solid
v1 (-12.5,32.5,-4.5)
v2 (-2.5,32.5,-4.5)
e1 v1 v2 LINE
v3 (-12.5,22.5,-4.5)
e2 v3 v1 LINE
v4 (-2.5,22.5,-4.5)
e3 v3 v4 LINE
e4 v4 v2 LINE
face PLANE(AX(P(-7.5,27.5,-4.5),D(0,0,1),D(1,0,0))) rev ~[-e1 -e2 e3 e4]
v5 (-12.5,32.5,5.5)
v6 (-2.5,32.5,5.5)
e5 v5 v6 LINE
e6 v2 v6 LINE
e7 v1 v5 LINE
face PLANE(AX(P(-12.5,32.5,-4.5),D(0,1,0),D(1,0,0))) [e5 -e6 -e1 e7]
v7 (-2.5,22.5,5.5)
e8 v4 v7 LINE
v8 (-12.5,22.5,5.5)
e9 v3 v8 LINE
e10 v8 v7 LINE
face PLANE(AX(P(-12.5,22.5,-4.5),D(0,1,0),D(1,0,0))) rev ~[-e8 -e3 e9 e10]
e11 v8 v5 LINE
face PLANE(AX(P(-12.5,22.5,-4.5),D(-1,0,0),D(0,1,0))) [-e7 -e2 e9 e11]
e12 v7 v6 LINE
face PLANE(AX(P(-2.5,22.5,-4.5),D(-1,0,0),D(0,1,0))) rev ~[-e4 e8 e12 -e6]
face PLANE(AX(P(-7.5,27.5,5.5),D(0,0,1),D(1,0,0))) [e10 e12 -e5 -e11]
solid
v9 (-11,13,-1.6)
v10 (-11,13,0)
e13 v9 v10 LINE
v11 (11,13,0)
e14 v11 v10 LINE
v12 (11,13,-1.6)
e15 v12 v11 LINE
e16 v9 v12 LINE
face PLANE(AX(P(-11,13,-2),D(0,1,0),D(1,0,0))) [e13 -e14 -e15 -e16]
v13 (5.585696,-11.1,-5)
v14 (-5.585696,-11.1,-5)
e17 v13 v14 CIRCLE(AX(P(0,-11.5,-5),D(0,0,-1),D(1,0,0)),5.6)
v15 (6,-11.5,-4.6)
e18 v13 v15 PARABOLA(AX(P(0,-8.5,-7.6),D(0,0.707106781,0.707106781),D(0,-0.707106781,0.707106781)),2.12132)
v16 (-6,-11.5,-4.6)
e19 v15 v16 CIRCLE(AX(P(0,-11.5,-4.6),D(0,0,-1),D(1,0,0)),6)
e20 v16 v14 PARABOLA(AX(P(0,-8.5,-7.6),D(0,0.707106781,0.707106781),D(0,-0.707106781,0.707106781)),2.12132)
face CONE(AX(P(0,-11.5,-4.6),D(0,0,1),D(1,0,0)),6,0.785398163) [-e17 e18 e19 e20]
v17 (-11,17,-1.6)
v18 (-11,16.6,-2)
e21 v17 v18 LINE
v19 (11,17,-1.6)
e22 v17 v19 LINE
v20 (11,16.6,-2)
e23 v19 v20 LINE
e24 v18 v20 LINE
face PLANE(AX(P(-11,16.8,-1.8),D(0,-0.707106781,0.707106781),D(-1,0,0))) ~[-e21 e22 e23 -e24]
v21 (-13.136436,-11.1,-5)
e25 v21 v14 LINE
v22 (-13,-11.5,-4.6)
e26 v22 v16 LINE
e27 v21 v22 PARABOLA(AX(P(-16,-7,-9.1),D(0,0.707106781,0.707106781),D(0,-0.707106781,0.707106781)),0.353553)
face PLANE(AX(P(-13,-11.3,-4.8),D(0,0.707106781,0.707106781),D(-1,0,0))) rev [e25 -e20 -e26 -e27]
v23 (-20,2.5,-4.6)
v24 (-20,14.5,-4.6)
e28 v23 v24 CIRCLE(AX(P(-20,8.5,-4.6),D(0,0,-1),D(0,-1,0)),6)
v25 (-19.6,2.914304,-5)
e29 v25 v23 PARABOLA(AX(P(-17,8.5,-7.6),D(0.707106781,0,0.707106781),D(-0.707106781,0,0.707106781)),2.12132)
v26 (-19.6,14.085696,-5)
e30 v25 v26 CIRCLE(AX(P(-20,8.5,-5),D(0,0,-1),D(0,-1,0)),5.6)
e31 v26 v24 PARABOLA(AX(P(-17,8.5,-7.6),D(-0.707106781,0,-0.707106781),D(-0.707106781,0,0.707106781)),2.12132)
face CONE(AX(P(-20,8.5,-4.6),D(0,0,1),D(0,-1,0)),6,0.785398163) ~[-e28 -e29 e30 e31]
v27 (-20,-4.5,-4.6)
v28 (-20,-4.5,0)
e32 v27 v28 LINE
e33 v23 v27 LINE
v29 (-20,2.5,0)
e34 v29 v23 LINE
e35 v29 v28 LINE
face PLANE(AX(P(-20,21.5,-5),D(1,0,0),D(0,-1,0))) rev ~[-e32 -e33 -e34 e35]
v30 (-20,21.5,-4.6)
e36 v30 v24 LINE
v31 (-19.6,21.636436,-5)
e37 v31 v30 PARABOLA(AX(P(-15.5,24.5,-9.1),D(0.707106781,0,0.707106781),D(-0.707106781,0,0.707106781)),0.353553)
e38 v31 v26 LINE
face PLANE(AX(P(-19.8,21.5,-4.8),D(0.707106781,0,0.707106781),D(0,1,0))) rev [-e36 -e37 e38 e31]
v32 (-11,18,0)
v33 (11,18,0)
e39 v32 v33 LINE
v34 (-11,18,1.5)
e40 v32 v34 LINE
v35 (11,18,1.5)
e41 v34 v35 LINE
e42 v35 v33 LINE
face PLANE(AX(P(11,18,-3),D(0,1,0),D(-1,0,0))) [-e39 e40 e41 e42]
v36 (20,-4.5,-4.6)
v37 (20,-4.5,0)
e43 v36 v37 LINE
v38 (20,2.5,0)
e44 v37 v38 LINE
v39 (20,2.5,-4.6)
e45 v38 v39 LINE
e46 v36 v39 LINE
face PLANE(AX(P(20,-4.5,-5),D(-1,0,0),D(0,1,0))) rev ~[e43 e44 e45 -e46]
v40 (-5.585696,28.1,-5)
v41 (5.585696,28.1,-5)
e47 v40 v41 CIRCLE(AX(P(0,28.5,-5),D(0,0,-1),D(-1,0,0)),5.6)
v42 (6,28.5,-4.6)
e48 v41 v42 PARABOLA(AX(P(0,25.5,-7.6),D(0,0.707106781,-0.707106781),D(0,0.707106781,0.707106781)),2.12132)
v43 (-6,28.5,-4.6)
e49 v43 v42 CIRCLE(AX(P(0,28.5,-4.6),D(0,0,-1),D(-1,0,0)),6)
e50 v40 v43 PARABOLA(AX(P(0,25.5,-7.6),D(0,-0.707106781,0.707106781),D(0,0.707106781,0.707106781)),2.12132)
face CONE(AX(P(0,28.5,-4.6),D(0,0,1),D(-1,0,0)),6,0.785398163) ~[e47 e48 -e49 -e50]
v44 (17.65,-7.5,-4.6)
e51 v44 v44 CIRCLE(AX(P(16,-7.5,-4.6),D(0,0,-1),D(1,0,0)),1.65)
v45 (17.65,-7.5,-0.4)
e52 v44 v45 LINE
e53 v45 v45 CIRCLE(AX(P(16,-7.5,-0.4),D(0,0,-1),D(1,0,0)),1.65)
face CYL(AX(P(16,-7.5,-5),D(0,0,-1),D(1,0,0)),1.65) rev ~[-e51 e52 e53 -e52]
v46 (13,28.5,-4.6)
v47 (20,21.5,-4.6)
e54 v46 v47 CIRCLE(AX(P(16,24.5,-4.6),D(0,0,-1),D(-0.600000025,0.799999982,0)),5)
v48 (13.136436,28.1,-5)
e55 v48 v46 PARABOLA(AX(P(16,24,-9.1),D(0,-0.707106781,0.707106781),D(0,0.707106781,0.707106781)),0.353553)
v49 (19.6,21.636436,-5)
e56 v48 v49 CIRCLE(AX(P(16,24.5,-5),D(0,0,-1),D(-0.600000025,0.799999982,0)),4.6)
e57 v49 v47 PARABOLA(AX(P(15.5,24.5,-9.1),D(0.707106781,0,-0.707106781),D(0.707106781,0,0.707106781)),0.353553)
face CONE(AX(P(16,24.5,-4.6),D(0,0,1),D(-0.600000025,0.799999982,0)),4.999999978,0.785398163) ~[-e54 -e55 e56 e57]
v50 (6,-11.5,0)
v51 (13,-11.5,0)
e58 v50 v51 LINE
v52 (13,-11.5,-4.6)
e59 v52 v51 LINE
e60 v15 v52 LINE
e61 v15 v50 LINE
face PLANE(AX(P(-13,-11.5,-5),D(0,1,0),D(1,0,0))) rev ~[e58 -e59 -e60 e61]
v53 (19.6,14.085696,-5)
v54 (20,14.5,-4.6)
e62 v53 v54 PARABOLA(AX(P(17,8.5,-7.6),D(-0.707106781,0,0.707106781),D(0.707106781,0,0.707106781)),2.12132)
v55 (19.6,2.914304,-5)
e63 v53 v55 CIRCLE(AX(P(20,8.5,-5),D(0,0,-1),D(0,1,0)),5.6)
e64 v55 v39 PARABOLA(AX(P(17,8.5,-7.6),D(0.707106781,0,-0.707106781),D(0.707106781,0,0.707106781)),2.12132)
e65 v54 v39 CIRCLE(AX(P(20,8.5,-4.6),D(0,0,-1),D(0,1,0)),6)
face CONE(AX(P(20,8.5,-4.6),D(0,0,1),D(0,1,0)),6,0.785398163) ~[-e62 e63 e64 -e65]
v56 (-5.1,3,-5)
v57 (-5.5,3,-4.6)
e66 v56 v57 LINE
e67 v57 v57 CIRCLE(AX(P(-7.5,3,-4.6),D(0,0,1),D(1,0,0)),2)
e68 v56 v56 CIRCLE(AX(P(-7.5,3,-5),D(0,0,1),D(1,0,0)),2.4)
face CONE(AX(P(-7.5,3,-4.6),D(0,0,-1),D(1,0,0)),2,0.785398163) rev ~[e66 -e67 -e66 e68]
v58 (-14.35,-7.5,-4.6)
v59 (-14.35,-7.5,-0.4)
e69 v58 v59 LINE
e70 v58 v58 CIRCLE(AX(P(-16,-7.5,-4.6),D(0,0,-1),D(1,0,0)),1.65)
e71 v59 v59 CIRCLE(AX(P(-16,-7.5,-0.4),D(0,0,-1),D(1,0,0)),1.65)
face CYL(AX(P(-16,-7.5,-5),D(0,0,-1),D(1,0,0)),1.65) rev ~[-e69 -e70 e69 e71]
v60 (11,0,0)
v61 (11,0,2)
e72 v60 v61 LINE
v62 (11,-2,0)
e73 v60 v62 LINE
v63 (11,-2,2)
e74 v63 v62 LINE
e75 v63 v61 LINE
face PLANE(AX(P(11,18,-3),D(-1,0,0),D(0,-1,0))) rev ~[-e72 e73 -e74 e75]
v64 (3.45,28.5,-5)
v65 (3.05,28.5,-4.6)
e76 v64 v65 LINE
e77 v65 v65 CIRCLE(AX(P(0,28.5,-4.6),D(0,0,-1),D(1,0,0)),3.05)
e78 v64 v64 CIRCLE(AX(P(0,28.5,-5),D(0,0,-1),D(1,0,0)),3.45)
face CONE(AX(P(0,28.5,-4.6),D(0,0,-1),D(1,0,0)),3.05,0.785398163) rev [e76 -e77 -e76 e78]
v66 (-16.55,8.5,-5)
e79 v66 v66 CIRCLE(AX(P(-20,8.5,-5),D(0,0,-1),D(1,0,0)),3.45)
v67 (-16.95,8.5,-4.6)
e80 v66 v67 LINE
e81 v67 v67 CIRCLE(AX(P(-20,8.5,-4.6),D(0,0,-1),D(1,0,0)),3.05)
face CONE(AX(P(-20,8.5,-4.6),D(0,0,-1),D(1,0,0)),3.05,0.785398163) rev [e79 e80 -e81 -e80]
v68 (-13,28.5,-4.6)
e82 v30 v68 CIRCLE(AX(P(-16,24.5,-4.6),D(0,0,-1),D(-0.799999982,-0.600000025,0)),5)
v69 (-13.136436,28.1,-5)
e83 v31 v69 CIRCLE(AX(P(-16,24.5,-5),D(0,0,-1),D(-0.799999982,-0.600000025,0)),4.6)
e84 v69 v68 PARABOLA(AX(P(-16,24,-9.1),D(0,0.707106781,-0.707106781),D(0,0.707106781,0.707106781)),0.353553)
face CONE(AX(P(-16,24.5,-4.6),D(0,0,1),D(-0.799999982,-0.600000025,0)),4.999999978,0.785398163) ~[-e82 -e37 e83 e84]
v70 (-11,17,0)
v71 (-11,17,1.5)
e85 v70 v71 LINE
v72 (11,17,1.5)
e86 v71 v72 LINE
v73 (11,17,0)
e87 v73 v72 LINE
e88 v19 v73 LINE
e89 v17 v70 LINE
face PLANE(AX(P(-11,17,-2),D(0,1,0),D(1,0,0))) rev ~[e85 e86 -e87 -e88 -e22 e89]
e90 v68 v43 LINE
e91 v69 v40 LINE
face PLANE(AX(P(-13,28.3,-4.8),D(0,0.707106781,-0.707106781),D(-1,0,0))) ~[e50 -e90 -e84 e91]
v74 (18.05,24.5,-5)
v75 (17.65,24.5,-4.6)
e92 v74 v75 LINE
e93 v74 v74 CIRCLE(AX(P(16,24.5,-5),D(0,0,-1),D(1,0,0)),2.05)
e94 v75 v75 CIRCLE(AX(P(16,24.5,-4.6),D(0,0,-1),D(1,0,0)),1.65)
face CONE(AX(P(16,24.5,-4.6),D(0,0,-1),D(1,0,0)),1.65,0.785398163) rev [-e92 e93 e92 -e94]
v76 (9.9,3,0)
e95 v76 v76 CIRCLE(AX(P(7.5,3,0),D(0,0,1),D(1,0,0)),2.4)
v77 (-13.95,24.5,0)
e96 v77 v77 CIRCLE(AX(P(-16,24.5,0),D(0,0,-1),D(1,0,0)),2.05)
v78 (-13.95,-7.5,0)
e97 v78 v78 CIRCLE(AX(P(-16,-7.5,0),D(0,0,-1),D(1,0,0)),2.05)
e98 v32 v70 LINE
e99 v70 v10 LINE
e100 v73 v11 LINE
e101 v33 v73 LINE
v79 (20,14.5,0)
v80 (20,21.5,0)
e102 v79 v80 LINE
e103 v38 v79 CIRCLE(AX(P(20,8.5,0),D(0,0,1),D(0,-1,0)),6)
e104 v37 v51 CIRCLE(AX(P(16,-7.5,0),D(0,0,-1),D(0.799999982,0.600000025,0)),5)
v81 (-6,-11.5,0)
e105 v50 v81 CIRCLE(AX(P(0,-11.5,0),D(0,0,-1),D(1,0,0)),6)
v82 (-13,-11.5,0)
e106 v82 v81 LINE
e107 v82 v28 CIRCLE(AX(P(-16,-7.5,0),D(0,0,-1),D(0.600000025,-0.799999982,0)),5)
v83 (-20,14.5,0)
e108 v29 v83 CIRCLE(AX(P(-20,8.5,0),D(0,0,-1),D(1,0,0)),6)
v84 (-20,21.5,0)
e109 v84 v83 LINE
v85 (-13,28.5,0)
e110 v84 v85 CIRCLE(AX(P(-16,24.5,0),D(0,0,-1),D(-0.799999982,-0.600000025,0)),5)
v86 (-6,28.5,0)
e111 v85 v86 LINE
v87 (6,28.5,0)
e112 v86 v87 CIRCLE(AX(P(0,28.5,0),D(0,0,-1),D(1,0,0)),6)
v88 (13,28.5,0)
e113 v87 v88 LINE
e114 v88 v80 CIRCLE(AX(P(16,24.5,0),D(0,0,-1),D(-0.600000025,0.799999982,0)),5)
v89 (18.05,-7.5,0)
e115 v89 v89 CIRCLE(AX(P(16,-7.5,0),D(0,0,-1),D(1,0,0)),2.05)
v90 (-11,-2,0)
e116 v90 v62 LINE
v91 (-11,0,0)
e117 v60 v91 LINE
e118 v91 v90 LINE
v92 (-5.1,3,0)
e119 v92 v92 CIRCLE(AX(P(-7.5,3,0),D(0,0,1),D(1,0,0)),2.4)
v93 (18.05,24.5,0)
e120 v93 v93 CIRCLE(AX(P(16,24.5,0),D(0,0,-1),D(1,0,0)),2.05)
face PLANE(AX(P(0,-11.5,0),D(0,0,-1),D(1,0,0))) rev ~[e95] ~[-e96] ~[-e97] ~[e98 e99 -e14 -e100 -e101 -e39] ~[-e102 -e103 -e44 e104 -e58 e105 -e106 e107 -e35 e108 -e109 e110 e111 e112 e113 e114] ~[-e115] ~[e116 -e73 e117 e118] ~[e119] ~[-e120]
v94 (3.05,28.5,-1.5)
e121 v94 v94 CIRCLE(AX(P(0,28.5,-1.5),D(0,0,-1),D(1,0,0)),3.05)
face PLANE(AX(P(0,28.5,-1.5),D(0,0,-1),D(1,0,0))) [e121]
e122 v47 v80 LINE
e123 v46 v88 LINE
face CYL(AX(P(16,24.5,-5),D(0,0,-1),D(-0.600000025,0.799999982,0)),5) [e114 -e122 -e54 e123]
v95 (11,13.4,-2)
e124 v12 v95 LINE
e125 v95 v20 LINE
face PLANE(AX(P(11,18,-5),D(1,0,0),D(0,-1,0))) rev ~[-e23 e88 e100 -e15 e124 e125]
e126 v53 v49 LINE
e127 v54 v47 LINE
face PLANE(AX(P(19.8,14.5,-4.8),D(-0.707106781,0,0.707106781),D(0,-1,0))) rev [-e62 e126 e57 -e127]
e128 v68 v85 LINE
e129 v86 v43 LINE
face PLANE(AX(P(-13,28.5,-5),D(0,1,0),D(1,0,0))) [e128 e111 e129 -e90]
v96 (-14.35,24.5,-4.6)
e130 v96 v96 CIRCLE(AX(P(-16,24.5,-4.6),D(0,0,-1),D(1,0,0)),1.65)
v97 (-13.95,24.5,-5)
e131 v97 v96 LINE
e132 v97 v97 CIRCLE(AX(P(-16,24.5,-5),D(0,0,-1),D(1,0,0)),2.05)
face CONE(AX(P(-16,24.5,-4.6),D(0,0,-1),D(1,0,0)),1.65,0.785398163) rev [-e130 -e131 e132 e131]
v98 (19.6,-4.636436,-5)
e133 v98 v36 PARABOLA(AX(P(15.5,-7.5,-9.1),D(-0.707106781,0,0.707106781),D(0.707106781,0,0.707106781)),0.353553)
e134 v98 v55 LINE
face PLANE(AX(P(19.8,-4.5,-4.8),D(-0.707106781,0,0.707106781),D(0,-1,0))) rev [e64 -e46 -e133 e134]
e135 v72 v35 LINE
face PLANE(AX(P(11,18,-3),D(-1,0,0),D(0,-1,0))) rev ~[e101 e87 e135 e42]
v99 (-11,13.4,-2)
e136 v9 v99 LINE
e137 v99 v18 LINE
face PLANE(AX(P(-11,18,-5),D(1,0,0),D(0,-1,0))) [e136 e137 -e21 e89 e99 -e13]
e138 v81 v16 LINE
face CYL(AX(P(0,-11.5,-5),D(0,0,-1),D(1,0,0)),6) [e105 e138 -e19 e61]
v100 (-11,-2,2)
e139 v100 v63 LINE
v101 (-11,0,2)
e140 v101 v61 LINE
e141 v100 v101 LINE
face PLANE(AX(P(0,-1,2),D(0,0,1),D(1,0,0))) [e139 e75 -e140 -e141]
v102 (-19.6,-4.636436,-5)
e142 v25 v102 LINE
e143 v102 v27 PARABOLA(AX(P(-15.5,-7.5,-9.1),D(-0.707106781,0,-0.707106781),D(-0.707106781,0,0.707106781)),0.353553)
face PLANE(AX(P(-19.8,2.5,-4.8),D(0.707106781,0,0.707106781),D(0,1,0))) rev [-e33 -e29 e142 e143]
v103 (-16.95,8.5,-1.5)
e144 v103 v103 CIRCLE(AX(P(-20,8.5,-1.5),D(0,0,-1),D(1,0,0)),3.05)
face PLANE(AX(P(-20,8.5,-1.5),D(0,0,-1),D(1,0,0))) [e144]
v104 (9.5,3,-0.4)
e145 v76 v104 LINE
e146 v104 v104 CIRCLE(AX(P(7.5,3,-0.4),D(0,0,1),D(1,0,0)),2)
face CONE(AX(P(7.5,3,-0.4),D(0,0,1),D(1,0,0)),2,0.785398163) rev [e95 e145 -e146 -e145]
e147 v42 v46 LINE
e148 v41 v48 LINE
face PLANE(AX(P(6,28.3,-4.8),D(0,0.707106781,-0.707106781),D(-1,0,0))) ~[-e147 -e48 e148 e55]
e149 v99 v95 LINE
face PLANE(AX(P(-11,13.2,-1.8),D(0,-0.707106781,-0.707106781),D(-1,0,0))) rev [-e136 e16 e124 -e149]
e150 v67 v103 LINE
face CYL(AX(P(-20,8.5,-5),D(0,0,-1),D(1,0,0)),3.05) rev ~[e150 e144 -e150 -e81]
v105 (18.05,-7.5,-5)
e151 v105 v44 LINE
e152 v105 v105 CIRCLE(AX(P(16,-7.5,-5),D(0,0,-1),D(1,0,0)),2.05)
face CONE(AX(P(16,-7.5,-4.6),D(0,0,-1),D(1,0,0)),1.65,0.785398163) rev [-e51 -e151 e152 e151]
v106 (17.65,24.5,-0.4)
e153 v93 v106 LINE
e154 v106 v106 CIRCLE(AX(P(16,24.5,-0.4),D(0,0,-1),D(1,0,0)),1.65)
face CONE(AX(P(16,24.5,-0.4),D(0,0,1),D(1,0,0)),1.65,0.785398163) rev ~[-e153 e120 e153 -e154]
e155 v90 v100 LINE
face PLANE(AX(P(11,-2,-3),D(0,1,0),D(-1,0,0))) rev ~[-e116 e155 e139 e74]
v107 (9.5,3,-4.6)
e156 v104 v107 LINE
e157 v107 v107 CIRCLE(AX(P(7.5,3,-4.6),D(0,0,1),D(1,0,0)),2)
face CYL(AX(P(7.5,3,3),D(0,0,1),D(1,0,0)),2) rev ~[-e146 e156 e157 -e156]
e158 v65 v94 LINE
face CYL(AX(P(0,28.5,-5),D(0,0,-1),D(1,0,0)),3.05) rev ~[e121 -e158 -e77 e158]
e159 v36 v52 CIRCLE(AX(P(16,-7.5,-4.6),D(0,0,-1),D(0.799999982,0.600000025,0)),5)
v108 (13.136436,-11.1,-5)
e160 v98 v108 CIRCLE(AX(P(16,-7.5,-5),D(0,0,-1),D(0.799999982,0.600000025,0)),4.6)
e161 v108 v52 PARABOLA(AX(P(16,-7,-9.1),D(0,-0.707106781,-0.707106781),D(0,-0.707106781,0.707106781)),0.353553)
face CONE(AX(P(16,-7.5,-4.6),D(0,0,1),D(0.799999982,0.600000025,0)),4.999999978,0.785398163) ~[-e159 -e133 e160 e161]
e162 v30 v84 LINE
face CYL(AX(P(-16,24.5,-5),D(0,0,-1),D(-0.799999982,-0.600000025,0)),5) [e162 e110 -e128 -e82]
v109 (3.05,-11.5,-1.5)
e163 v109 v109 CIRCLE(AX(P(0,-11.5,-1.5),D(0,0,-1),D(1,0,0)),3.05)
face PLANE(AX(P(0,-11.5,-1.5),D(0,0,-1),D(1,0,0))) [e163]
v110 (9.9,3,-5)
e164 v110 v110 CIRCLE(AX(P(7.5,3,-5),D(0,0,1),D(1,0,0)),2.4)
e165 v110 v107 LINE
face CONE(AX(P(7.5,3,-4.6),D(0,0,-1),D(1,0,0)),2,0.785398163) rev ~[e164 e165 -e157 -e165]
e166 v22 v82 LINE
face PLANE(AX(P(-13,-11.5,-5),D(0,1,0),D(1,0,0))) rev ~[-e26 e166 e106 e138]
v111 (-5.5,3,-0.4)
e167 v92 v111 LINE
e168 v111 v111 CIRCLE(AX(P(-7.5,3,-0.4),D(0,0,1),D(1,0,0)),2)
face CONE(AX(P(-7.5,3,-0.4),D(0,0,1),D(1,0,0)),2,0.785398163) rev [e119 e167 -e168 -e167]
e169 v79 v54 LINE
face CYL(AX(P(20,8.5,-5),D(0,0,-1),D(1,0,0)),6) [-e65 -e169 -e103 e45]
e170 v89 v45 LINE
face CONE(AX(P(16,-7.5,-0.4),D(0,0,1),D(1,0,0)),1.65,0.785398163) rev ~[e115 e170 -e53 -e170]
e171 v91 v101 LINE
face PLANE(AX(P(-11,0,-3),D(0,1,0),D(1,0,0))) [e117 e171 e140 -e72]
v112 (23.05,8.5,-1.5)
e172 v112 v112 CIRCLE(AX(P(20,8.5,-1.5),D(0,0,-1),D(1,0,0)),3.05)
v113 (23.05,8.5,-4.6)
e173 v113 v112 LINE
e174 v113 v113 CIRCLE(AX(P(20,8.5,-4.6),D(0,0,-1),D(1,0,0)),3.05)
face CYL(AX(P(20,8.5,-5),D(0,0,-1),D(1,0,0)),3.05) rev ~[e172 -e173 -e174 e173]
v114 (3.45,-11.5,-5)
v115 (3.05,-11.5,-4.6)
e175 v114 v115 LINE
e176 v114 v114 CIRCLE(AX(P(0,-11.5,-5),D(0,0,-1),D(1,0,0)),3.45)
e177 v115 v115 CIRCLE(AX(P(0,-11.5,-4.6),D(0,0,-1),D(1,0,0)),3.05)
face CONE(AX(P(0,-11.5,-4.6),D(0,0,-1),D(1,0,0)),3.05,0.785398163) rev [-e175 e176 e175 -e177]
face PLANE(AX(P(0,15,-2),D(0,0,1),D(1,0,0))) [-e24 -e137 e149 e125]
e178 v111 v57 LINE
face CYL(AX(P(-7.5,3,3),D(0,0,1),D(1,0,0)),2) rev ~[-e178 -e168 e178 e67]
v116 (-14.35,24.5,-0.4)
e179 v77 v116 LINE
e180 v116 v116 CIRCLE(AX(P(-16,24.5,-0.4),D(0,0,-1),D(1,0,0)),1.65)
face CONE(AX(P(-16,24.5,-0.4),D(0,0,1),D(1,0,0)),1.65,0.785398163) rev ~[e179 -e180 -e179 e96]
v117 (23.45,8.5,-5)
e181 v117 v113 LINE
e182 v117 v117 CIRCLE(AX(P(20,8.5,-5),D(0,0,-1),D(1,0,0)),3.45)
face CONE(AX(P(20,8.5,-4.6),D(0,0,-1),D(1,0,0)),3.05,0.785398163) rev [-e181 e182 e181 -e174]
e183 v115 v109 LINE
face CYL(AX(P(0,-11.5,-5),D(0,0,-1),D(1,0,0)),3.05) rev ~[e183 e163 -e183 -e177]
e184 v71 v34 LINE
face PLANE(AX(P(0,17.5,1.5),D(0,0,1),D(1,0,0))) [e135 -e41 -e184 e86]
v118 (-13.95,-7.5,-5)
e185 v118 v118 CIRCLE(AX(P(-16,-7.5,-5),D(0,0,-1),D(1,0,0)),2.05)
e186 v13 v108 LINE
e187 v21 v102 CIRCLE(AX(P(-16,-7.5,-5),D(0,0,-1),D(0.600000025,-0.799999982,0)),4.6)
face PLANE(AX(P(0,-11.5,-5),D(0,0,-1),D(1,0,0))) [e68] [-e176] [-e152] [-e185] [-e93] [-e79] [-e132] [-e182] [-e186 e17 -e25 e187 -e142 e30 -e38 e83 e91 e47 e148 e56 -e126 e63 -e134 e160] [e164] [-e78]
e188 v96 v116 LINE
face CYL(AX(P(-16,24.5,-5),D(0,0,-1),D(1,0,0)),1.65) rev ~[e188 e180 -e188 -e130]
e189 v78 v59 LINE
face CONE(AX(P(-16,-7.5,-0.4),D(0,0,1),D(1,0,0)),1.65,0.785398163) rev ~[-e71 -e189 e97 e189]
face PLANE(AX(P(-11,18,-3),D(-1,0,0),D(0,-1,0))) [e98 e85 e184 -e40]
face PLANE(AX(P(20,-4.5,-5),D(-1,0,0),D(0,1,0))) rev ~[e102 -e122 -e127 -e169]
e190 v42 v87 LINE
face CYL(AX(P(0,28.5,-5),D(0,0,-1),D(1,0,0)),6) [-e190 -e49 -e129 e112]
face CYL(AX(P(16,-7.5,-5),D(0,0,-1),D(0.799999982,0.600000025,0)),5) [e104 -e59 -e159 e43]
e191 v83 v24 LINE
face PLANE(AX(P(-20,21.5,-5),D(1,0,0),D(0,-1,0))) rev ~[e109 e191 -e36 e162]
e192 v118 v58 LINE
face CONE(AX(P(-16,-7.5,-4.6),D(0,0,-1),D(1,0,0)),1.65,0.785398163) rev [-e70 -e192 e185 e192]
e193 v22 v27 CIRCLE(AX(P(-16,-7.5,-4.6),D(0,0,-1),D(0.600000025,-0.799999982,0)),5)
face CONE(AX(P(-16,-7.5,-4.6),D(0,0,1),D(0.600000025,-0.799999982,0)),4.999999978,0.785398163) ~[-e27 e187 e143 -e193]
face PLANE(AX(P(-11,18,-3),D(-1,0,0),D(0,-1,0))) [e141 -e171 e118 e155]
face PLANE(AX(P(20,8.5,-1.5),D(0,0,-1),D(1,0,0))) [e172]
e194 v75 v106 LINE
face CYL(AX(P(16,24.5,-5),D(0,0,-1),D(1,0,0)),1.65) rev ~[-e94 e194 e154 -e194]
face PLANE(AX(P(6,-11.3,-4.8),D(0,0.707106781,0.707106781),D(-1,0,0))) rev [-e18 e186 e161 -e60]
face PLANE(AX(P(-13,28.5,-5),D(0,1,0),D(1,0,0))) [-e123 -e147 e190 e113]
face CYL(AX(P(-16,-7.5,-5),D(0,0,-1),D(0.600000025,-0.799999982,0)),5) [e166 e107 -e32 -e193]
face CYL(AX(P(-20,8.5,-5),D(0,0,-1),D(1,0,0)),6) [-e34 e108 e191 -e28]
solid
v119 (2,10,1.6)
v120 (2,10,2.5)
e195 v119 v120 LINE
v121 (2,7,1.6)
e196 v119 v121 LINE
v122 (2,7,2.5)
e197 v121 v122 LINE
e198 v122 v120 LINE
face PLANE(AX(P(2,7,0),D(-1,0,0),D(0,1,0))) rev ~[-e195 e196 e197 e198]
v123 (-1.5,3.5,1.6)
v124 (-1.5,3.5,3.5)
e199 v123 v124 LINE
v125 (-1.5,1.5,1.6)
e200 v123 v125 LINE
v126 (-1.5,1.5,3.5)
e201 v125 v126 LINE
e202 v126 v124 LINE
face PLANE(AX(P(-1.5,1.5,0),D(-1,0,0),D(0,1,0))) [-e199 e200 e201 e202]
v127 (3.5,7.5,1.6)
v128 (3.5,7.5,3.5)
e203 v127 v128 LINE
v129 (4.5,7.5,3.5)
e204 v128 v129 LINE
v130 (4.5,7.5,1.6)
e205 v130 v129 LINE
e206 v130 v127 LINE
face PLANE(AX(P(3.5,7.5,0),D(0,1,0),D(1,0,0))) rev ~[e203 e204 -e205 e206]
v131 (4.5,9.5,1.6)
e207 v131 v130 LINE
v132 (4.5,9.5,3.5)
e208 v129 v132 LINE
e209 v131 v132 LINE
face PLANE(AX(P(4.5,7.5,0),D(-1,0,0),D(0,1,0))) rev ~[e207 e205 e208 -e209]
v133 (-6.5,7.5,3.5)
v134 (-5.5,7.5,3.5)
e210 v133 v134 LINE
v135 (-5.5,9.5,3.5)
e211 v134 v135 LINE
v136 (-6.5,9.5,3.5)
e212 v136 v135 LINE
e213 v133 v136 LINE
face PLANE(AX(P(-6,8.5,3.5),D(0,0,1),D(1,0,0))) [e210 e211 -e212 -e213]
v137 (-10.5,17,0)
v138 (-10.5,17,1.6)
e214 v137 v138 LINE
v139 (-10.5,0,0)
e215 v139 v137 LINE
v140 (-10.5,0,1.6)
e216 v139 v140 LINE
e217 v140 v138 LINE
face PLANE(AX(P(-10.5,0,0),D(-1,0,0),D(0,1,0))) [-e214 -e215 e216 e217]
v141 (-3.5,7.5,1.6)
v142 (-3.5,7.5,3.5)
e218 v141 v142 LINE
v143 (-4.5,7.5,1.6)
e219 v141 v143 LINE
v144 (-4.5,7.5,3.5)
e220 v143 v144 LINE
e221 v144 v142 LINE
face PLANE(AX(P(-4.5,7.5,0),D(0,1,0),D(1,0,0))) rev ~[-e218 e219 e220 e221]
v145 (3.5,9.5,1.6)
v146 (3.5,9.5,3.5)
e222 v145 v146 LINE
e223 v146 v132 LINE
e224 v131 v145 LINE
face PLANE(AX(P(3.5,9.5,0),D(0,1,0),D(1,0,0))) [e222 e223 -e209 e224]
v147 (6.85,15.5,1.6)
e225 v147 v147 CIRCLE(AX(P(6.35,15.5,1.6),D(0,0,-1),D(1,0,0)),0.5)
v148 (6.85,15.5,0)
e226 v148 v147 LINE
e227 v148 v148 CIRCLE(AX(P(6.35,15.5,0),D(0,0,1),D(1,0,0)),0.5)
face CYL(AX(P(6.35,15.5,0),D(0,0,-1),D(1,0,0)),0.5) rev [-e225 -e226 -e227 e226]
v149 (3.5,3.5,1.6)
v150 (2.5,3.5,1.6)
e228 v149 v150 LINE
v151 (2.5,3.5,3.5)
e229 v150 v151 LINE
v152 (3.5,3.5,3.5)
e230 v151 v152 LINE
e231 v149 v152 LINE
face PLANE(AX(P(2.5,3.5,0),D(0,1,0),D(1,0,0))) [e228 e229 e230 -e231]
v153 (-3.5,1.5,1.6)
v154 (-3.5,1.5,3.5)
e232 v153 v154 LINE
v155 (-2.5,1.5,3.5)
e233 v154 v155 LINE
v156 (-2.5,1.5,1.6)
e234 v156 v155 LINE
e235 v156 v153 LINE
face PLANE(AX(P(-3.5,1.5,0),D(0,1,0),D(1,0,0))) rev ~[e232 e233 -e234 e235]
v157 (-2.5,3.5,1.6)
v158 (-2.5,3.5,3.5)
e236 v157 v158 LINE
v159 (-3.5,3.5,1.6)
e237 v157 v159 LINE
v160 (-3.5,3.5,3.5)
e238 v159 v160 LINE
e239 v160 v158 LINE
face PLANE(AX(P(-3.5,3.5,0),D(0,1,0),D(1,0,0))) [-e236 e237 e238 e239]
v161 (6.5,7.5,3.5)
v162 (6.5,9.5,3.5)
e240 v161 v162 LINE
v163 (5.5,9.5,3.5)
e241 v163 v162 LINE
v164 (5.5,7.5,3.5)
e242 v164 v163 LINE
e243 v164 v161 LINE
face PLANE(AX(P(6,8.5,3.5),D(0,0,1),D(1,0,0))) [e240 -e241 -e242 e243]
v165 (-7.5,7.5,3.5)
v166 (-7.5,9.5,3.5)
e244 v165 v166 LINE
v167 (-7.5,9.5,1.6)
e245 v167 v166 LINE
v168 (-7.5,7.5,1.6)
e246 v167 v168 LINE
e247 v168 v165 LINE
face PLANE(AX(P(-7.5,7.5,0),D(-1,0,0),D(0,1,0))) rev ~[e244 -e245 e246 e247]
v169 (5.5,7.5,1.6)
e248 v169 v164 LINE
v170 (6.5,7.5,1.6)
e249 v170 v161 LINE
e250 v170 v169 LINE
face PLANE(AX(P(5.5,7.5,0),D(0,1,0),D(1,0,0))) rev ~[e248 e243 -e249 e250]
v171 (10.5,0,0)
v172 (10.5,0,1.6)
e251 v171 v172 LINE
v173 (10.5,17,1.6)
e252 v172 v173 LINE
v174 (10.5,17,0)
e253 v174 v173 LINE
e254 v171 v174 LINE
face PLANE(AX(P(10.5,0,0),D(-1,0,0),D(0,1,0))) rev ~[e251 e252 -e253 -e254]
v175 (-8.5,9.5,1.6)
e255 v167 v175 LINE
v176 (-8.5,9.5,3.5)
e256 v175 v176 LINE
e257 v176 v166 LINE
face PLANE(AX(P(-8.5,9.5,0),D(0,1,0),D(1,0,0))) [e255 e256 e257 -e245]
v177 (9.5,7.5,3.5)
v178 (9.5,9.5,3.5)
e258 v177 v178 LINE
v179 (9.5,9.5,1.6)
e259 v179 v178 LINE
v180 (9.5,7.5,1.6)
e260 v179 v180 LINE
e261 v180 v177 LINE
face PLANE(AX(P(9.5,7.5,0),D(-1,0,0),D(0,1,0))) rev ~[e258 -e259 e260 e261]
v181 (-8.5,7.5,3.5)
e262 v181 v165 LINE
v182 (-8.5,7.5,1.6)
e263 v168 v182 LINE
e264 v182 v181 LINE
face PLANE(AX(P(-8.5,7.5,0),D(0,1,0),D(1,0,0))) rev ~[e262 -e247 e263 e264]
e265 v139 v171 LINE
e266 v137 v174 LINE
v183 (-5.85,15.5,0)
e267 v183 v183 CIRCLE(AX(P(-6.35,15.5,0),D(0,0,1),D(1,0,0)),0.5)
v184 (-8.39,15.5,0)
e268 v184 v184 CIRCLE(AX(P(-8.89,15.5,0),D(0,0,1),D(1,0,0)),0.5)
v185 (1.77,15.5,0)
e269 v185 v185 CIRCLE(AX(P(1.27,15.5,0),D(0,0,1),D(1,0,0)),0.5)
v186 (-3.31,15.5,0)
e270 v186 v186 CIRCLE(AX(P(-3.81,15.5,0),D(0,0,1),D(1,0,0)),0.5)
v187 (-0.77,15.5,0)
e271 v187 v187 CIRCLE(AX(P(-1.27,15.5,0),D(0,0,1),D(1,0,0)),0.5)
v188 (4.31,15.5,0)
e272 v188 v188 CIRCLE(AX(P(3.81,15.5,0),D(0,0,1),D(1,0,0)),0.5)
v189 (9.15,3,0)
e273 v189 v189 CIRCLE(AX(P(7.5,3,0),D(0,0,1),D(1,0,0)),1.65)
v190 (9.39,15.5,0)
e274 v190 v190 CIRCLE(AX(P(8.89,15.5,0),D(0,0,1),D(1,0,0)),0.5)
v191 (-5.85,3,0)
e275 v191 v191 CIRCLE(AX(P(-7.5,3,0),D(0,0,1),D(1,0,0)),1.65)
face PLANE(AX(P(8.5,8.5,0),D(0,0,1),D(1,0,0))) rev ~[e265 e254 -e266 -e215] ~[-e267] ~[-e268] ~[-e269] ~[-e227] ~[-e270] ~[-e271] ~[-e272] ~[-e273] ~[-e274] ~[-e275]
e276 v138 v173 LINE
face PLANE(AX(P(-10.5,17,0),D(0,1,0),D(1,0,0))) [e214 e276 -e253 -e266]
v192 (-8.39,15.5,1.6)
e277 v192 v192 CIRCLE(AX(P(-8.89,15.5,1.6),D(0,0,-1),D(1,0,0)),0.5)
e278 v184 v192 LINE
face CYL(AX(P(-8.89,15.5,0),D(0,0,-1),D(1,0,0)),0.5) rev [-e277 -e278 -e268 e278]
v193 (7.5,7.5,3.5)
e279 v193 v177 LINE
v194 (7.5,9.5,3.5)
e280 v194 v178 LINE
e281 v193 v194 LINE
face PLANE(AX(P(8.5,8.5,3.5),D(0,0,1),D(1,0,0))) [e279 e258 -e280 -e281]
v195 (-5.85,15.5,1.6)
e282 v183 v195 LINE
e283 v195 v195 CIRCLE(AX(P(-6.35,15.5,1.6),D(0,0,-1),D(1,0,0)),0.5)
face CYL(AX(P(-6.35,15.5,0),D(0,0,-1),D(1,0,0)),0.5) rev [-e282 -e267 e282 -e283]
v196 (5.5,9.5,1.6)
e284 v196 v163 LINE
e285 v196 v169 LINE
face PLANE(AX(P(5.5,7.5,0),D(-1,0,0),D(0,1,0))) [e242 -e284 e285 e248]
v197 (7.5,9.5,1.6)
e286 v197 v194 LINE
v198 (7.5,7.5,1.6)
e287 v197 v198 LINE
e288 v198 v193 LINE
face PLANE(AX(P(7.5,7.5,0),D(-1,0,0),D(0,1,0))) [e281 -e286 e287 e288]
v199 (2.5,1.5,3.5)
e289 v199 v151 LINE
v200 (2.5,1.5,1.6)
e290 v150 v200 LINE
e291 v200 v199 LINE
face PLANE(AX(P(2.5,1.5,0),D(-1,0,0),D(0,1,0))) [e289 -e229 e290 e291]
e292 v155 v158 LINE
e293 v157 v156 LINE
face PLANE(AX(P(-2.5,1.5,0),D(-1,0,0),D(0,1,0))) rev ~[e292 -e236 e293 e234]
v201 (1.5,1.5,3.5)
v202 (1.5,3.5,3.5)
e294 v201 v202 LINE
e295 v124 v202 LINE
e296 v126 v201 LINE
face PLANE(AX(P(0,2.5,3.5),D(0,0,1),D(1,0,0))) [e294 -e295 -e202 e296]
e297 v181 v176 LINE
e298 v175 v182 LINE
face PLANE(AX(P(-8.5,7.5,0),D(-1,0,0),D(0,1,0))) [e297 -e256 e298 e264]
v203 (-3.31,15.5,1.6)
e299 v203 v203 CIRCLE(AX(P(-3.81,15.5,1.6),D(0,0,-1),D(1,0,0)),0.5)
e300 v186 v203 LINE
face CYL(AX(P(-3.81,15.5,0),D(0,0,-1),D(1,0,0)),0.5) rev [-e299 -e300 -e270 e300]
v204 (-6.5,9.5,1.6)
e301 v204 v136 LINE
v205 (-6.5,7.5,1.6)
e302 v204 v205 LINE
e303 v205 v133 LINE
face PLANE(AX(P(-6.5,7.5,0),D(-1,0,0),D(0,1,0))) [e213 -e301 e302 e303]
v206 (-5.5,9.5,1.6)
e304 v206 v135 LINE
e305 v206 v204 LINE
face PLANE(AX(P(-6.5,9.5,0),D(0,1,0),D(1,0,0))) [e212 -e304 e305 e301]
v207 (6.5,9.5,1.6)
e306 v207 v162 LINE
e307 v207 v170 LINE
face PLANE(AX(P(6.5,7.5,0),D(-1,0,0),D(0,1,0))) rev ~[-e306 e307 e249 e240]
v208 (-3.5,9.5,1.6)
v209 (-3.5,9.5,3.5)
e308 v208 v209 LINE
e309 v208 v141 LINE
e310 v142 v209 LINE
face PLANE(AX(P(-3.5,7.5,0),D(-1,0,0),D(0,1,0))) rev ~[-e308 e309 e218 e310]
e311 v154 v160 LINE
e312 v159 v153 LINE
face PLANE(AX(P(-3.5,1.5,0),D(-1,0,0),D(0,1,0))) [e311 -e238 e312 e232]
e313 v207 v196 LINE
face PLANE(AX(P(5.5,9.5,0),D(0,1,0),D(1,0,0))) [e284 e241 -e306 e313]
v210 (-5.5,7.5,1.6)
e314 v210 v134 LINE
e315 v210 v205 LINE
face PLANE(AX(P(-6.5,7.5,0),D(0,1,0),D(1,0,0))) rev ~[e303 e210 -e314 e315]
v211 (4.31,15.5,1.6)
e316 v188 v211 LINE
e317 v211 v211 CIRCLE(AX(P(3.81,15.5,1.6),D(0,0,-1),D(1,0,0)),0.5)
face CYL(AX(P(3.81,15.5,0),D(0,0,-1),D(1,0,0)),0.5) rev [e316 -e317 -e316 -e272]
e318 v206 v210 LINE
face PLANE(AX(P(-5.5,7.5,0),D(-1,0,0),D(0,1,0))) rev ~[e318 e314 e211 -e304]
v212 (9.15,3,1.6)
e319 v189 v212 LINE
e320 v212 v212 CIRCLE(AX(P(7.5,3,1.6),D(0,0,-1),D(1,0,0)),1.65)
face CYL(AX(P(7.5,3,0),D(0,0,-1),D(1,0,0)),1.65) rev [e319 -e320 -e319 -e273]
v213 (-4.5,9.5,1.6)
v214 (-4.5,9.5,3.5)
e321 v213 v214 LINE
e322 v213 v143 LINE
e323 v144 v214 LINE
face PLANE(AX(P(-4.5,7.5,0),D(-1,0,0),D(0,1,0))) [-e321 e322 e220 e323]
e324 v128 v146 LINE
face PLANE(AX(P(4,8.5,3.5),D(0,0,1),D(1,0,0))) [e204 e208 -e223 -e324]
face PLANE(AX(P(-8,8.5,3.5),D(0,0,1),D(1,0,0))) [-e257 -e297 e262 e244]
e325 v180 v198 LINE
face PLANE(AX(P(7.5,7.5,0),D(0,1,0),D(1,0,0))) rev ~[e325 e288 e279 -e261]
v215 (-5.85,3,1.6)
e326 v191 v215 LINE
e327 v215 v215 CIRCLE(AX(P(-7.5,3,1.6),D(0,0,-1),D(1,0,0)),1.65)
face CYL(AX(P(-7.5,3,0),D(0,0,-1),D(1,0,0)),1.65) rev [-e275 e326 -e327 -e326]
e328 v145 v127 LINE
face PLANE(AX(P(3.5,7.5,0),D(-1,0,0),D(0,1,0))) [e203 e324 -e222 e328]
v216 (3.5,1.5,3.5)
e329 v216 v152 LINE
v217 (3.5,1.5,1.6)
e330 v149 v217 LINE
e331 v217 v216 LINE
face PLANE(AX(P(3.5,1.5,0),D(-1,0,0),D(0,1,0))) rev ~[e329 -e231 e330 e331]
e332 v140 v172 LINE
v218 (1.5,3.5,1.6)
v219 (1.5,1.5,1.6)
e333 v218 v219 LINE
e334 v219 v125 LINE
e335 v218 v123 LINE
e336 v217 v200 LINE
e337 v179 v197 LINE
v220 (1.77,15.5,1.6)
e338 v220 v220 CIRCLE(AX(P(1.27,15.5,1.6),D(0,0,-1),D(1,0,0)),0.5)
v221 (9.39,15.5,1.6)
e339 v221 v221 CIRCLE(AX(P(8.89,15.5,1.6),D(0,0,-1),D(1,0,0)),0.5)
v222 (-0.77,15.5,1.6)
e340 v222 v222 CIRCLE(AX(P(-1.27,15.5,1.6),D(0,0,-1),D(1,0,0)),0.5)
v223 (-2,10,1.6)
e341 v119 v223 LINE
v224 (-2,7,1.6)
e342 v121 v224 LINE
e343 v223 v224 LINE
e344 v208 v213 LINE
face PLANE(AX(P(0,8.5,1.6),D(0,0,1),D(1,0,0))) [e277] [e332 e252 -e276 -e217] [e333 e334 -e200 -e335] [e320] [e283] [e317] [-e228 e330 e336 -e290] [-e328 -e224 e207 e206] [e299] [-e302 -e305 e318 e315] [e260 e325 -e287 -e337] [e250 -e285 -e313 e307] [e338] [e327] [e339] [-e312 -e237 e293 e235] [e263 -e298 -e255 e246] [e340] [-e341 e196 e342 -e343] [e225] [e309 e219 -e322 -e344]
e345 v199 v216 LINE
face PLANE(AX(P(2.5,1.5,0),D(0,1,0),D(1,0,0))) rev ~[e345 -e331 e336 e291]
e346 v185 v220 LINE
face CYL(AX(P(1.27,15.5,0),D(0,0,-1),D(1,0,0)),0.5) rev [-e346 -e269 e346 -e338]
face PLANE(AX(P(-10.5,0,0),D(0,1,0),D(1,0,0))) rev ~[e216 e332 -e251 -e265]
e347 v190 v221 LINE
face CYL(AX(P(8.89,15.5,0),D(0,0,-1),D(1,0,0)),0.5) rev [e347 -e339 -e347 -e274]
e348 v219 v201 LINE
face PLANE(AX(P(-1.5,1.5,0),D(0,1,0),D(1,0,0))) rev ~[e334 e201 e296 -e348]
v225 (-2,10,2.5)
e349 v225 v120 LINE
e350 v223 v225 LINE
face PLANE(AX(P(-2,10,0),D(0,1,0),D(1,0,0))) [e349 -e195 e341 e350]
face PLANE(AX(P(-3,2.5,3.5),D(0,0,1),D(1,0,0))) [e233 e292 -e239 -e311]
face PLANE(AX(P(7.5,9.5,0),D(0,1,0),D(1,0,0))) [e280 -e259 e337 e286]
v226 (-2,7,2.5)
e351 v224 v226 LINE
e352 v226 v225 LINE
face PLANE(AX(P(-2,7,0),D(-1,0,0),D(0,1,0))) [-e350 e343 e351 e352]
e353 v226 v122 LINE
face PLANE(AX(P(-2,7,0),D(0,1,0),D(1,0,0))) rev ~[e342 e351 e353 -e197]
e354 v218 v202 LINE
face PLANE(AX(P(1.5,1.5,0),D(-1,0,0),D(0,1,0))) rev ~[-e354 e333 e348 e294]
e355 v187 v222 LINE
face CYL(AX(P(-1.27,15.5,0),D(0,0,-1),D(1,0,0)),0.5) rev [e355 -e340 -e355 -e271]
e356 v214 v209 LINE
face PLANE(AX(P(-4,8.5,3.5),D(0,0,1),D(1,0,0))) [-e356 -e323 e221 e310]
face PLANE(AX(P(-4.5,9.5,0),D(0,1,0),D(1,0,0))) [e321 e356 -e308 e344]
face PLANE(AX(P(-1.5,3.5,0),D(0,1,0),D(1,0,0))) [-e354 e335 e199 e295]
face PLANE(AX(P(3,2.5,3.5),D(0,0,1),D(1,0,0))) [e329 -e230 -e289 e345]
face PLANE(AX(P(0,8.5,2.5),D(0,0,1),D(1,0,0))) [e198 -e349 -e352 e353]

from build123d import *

# Parameters (mm, degrees)
BOX016_W          = 10
BOX016_H          = 10
BOX016_DEPTH      = 10
BOX001_W          = 4
BOX001_H          = 3
BOX001_DEPTH      = 2.5
BOX002_W          = 3
BOX002_H          = 2
BOX002_DEPTH      = 3.5
BOX003_W          = 1
BOX003_H          = 2
BOX003_DEPTH      = 3.5
BOX004_W          = 1
BOX004_H          = 2
BOX004_DEPTH      = 3.5
BOX005_W          = 1
BOX005_H          = 2
BOX005_DEPTH      = 3.5
BOX006_W          = 1
BOX006_H          = 2
BOX006_DEPTH      = 3.5
BOX007_W          = 1
BOX007_H          = 2
BOX007_DEPTH      = 3.5
BOX008_W          = 1
BOX008_H          = 2
BOX008_DEPTH      = 3.5
BOX009_W          = 1
BOX009_H          = 2
BOX009_DEPTH      = 3.5
BOX010_W          = 2
BOX010_H          = 2
BOX010_DEPTH      = 3.5
CYLINDER007_R     = 0.5
CYLINDER007_DEPTH = 10
CYLINDER008_R     = 0.5
CYLINDER008_DEPTH = 10
CYLINDER006_R     = 0.5
CYLINDER006_DEPTH = 10
CYLINDER005_R     = 0.5
CYLINDER005_DEPTH = 10
CYLINDER004_R     = 0.5
CYLINDER004_DEPTH = 10
CYLINDER003_R     = 0.5
CYLINDER003_DEPTH = 10
CYLINDER002_R     = 0.5
CYLINDER002_DEPTH = 10
CYLINDER009_R     = 0.5
CYLINDER009_DEPTH = 10
CYLINDER001_R     = 1.65
CYLINDER001_DEPTH = 10
CYLINDER_R        = 1.65
CYLINDER_DEPTH    = 10
BOX_W             = 21
BOX_H             = 17
BOX_DEPTH         = 1.6
BOX018_W          = 6
BOX018_H          = 10
BOX018_DEPTH      = 10
BOX017_W          = 3.3
BOX017_H          = 10
BOX017_DEPTH      = 10
CYLINDER014_R     = 1.65
CYLINDER014_DEPTH = 10
CYLINDER011_R     = 3
CYLINDER011_DEPTH = 10
CYLINDER012_R     = 1.4
CYLINDER012_DEPTH = 3
CYLINDER013_R     = 1.65
CYLINDER013_DEPTH = 10
BOX014_W          = 16
BOX014_H          = 12
BOX014_DEPTH      = 10
BOX013_W          = 22
BOX013_H          = 4
BOX013_DEPTH      = 5
CHAMFER_SIZE      = 0.4
BOX011_W          = 22
BOX011_H          = 28
BOX011_DEPTH      = 3
BOX012_W          = 22
BOX012_H          = 2
BOX012_DEPTH      = 5
BOX015_W          = 22
BOX015_H          = 1
BOX015_DEPTH      = 1.5
CHAMFER001_SIZE   = 1
CHAMFER002_SIZE   = 0.4
SKETCH_W          = 7
SKETCH_H          = 8
POCKET_DEPTH      = 4.501
POCKET_FACE11_W   = 20
POCKET_FACE11_H   = 22
POCKET_FACE11_R   = 1.65
PAD_DEPTH         = 2
SKETCH001_R       = 2
POCKET001_DEPTH   = 8.001
SKETCH002_R       = 1.65
SKETCH002_W       = 22
SKETCH002_H       = 20
PAD001_DEPTH      = 5
SKETCH003_R       = 6
PAD002_DEPTH      = 5
SKETCH004_R       = 3.05
POCKET002_DEPTH   = 3.5
CHAMFER003_SIZE   = 0.4


with BuildPart() as cube016:
    # Box016 → Box016 (new body)
    with BuildSketch(Plane(origin=(-12.5, 22.5, -4.5), x_dir=(1, 0, 0), z_dir=(0, 0, 1))):
        with Locations((5, 5)):
            Rectangle(BOX016_W, BOX016_H)
    extrude(amount=BOX016_DEPTH)


with BuildPart() as cube001:
    # Box001 → Box001 (new body)
    with BuildSketch(Plane(origin=(-2, 7, 0), x_dir=(1, 0, 0), z_dir=(0, 0, 1))):
        with Locations((2, 1.5)):
            Rectangle(BOX001_W, BOX001_H)
    extrude(amount=BOX001_DEPTH)


with BuildPart() as cube002:
    # Box002 → Box002 (new body)
    with BuildSketch(Plane(origin=(-1.5, 1.5, 0), x_dir=(1, 0, 0), z_dir=(0, 0, 1))):
        with Locations((1.5, 1)):
            Rectangle(BOX002_W, BOX002_H)
    extrude(amount=BOX002_DEPTH)


with BuildPart() as cube003:
    # Box003 → Box003 (new body)
    with BuildSketch(Plane(origin=(-3.5, 1.5, 0), x_dir=(1, 0, 0), z_dir=(0, 0, 1))):
        with Locations((0.5, 1)):
            Rectangle(BOX003_W, BOX003_H)
    extrude(amount=BOX003_DEPTH)


with BuildPart() as cube004:
    # Box004 → Box004 (new body)
    with BuildSketch(Plane(origin=(2.5, 1.5, 0), x_dir=(1, 0, 0), z_dir=(0, 0, 1))):
        with Locations((0.5, 1)):
            Rectangle(BOX004_W, BOX004_H)
    extrude(amount=BOX004_DEPTH)


with BuildPart() as cube005:
    # Box005 → Box005 (new body)
    with BuildSketch(Plane(origin=(-4.5, 7.5, 0), x_dir=(1, 0, 0), z_dir=(0, 0, 1))):
        with Locations((0.5, 1)):
            Rectangle(BOX005_W, BOX005_H)
    extrude(amount=BOX005_DEPTH)


with BuildPart() as cube006:
    # Box006 → Box006 (new body)
    with BuildSketch(Plane(origin=(-6.5, 7.5, 0), x_dir=(1, 0, 0), z_dir=(0, 0, 1))):
        with Locations((0.5, 1)):
            Rectangle(BOX006_W, BOX006_H)
    extrude(amount=BOX006_DEPTH)


with BuildPart() as cube007:
    # Box007 → Box007 (new body)
    with BuildSketch(Plane(origin=(-8.5, 7.5, 0), x_dir=(1, 0, 0), z_dir=(0, 0, 1))):
        with Locations((0.5, 1)):
            Rectangle(BOX007_W, BOX007_H)
    extrude(amount=BOX007_DEPTH)


with BuildPart() as cube008:
    # Box008 → Box008 (new body)
    with BuildSketch(Plane(origin=(3.5, 7.5, 0), x_dir=(1, 0, 0), z_dir=(0, 0, 1))):
        with Locations((0.5, 1)):
            Rectangle(BOX008_W, BOX008_H)
    extrude(amount=BOX008_DEPTH)


with BuildPart() as cube009:
    # Box009 → Box009 (new body)
    with BuildSketch(Plane(origin=(5.5, 7.5, 0), x_dir=(1, 0, 0), z_dir=(0, 0, 1))):
        with Locations((0.5, 1)):
            Rectangle(BOX009_W, BOX009_H)
    extrude(amount=BOX009_DEPTH)


with BuildPart() as cube010:
    # Box010 → Box010 (new body)
    with BuildSketch(Plane(origin=(7.5, 7.5, 0), x_dir=(1, 0, 0), z_dir=(0, 0, 1))):
        with Locations((1, 1)):
            Rectangle(BOX010_W, BOX010_H)
    extrude(amount=BOX010_DEPTH)


with BuildPart() as cylinder007:
    # Cylinder007 → Cylinder007 (new body)
    with BuildSketch(Plane(origin=(6.35, 15, 0), x_dir=(1, 0, 0), z_dir=(0, 0, 1))):
        Circle(CYLINDER007_R)
    extrude(amount=CYLINDER007_DEPTH)


with BuildPart() as cylinder008:
    # Cylinder008 → Cylinder008 (new body)
    with BuildSketch(Plane(origin=(8.89, 15, 0), x_dir=(1, 0, 0), z_dir=(0, 0, 1))):
        Circle(CYLINDER008_R)
    extrude(amount=CYLINDER008_DEPTH)


with BuildPart() as cylinder006:
    # Cylinder006 → Cylinder006 (new body)
    with BuildSketch(Plane(origin=(-6.35, 15, 0), x_dir=(1, 0, 0), z_dir=(0, 0, 1))):
        Circle(CYLINDER006_R)
    extrude(amount=CYLINDER006_DEPTH)


with BuildPart() as cylinder005:
    # Cylinder005 → Cylinder005 (new body)
    with BuildSketch(Plane(origin=(-3.81, 15, 0), x_dir=(1, 0, 0), z_dir=(0, 0, 1))):
        Circle(CYLINDER005_R)
    extrude(amount=CYLINDER005_DEPTH)


with BuildPart() as cylinder004:
    # Cylinder004 → Cylinder004 (new body)
    with BuildSketch(Plane(origin=(3.81, 15, 0), x_dir=(1, 0, 0), z_dir=(0, 0, 1))):
        Circle(CYLINDER004_R)
    extrude(amount=CYLINDER004_DEPTH)


with BuildPart() as cylinder003:
    # Cylinder003 → Cylinder003 (new body)
    with BuildSketch(Plane(origin=(1.27, 15, 0), x_dir=(1, 0, 0), z_dir=(0, 0, 1))):
        Circle(CYLINDER003_R)
    extrude(amount=CYLINDER003_DEPTH)


with BuildPart() as cylinder002:
    # Cylinder002 → Cylinder002 (new body)
    with BuildSketch(Plane(origin=(-1.27, 15, 0), x_dir=(1, 0, 0), z_dir=(0, 0, 1))):
        Circle(CYLINDER002_R)
    extrude(amount=CYLINDER002_DEPTH)


with BuildPart() as fusion001:
    # Cylinder009 → Cylinder009 (new body)
    with BuildSketch(Plane(origin=(-8.89, 15, 0), x_dir=(1, 0, 0), z_dir=(0, 0, 1))):
        Circle(CYLINDER009_R)
    extrude(amount=CYLINDER009_DEPTH)

    # Fusion001: union Cylinder007, Cylinder008, Cylinder006, Cylinder005, Cylinder004, Cylinder003, Cylinder002
    add(cylinder007.part)
    add(cylinder008.part)
    add(cylinder006.part)
    add(cylinder005.part)
    add(cylinder004.part)
    add(cylinder003.part)
    add(cylinder002.part)


with BuildPart() as fusion001_1:
    # Fusion001 placement: moved
    add(fusion001.part.moved(Location((0, 0.5, 0))))


with BuildPart() as cylinder001:
    # Cylinder001 → Cylinder001 (new body)
    with BuildSketch(Plane(origin=(7.5, 2.5, 0), x_dir=(1, 0, 0), z_dir=(0, 0, 1))):
        Circle(CYLINDER001_R)
    extrude(amount=CYLINDER001_DEPTH)


with BuildPart() as fusion:
    # Cylinder → Cylinder (new body)
    with BuildSketch(Plane(origin=(-7.5, 2.5, 0), x_dir=(1, 0, 0), z_dir=(0, 0, 1))):
        Circle(CYLINDER_R)
    extrude(amount=CYLINDER_DEPTH)

    # Fusion: union Cylinder001
    add(cylinder001.part)


with BuildPart() as fusion_1:
    # Fusion placement: moved
    add(fusion.part.moved(Location((0, 0.5, 0))))


with BuildPart() as adxl345:
    # Box → Box (new body)
    with BuildSketch(Plane(origin=(-10.5, 0, 0), x_dir=(1, 0, 0), z_dir=(0, 0, 1))):
        with Locations((10.5, 8.5)):
            Rectangle(BOX_W, BOX_H)
    extrude(amount=BOX_DEPTH)

    # Cut: cut Fusion
    add(fusion_1.part, mode=Mode.SUBTRACT)

    # Cut008: cut Fusion001
    add(fusion001_1.part, mode=Mode.SUBTRACT)

    # Fusion002007: union Cube001, Cube002, Cube003, Cube004, Cube005, Cube006, Cube007, Cube008, Cube009, Cube010
    add(cube001.part)
    add(cube002.part)
    add(cube003.part)
    add(cube004.part)
    add(cube005.part)
    add(cube006.part)
    add(cube007.part)
    add(cube008.part)
    add(cube009.part)
    add(cube010.part)


with BuildPart() as cube018:
    # Box018 → Box018 (new body)
    with BuildSketch(Plane(origin=(-10.5, 22.5, -1.5), x_dir=(1, 0, 0), z_dir=(0, 0, 1))):
        with Locations((3, 5)):
            Rectangle(BOX018_W, BOX018_H)
    extrude(amount=BOX018_DEPTH)


with BuildPart() as cube017:
    # Box017 → Box017 (new body)
    with BuildSketch(Plane(origin=(-9.15, 22.5, -11.5), x_dir=(1, 0, 0), z_dir=(0, 0, 1))):
        with Locations((1.65, 5)):
            Rectangle(BOX017_W, BOX017_H)
    extrude(amount=BOX017_DEPTH)


with BuildPart() as cylinder014:
    # Cylinder014 → Cylinder014 (new body)
    with BuildSketch(Plane(origin=(-7.5, 22.5, -6.5), x_dir=(1, 0, 0), z_dir=(0, 0, 1))):
        Circle(CYLINDER014_R)
    extrude(amount=CYLINDER014_DEPTH)


with BuildPart() as cylinder011:
    # Cylinder011 → Cylinder011 (new body)
    with BuildSketch(Plane(origin=(-7.5, 22.5, -1.5), x_dir=(1, 0, 0), z_dir=(0, 0, 1))):
        Circle(CYLINDER011_R)
    extrude(amount=CYLINDER011_DEPTH)


with BuildPart() as cylinder012:
    # Cylinder012 → Cylinder012 (new body)
    with BuildSketch(Plane(origin=(7.5, 3, 0), x_dir=(1, 0, 0), z_dir=(0, 0, 1))):
        Circle(CYLINDER012_R)
    extrude(amount=CYLINDER012_DEPTH)


with BuildPart() as cylinder013:
    # Cylinder013 → Cylinder013 (new body)
    with BuildSketch(Plane(origin=(-7.5, 3, -3.5), x_dir=(1, 0, 0), z_dir=(0, 0, 1))):
        Circle(CYLINDER013_R)
    extrude(amount=CYLINDER013_DEPTH)


with BuildPart() as cube014:
    # Box014 → Box014 (new body)
    with BuildSketch(Plane(origin=(-4, 18, -4.5), x_dir=(1, 0, 0), z_dir=(0, 0, 1))):
        with Locations((8, 6)):
            Rectangle(BOX014_W, BOX014_H)
    extrude(amount=BOX014_DEPTH)


with BuildPart() as chamfer_body:
    # Box013 → Box013 (new body)
    with BuildSketch(Plane(origin=(-11, 13, -2), x_dir=(1, 0, 0), z_dir=(0, 0, 1))):
        with Locations((11, 2)):
            Rectangle(BOX013_W, BOX013_H)
    extrude(amount=BOX013_DEPTH)

    # Chamfer
    chamfer_edges = [chamfer_body.edges().sort_by_distance(p)[0] for p in [
        (0, 13, -2),
        (0, 17, -2),
    ]]
    chamfer(chamfer_edges, length=CHAMFER_SIZE)


with BuildPart() as cut011:
    # Box011 → Box011 (new body)
    with BuildSketch(Plane(origin=(-11, -2, -3), x_dir=(1, 0, 0), z_dir=(0, 0, 1))):
        with Locations((11, 14)):
            Rectangle(BOX011_W, BOX011_H)
    extrude(amount=BOX011_DEPTH)

    # Cut002: cut Chamfer body
    add(chamfer_body.part, mode=Mode.SUBTRACT)

    # Cut003: cut Cube014
    add(cube014.part, mode=Mode.SUBTRACT)

    # Cut009: cut Cylinder013
    add(cylinder013.part, mode=Mode.SUBTRACT)

    # Fusion002008: union Cylinder012
    add(cylinder012.part)

    # Cut010: cut Cylinder011
    add(cylinder011.part, mode=Mode.SUBTRACT)

    # Cut011: cut Cylinder014
    add(cylinder014.part, mode=Mode.SUBTRACT)


with BuildPart() as cube012:
    # Box012 → Box012 (new body)
    with BuildSketch(Plane(origin=(-11, -2, -3), x_dir=(1, 0, 0), z_dir=(0, 0, 1))):
        with Locations((11, 1)):
            Rectangle(BOX012_W, BOX012_H)
    extrude(amount=BOX012_DEPTH)


with BuildPart() as body:
    # Box015 → Box015 (new body)
    with BuildSketch(Plane(origin=(-11, 17, 0), x_dir=(1, 0, 0), z_dir=(0, 0, 1))):
        with Locations((11, 0.5)):
            Rectangle(BOX015_W, BOX015_H)
    extrude(amount=BOX015_DEPTH)

    # Fusion002009: union Cut011, Cube012
    add(cut011.part)
    add(cube012.part)

    # Chamfer001
    chamfer001_edges = [body.edges().sort_by_distance(p)[0] for p in [
        (-7.5, 18, 0),
    ]]
    chamfer(chamfer001_edges, length=CHAMFER001_SIZE)

    # Cut012: cut Cube017
    add(cube017.part, mode=Mode.SUBTRACT)

    # Cut013: cut Cube018
    add(cube018.part, mode=Mode.SUBTRACT)

    # Chamfer002
    chamfer002_edges = [body.edges().sort_by_distance(p)[0] for p in [
        (-9.15, 26, -2.25),
        (-9.825, 26, -1.5),
        (-5.85, 26, -2.25),
        (-5.175, 26, -1.5),
    ]]
    chamfer(chamfer002_edges, length=CHAMFER002_SIZE)

    # Sketch (on Face39 of BaseFeature) → Pocket (cut, through all)
    with BuildSketch(Plane.XY.offset(1.5)):
        with Locations((-7.5, 22)):
            Rectangle(SKETCH_W, SKETCH_H)
    extrude(amount=-POCKET_DEPTH, mode=Mode.SUBTRACT)

    # Pocket Face11 → Pad (add)
    with BuildSketch(Plane(origin=(0.14868, 8.09912, -3), x_dir=(0, -1, 0), z_dir=(0, 0, -1))):
        with Locations((0.09912, 0.14868)):
            Rectangle(POCKET_FACE11_W, POCKET_FACE11_H)
        with Locations((5.09912, 7.64868)):
            Circle(POCKET_FACE11_R, mode=Mode.SUBTRACT)
    extrude(amount=PAD_DEPTH)

    # Sketch001 (on Face13 of Pad) → Pocket001 (cut, through all)
    with BuildSketch(Plane.XY.offset(3)):
        with Locations((-7.5, 3)):
            Circle(SKETCH001_R)
        with Locations((7.5, 3)):
            Circle(SKETCH001_R)
    extrude(amount=-POCKET001_DEPTH, mode=Mode.SUBTRACT)

    # Sketch002 (on Face1 of Pocket001) → Pad001 (join)
    with BuildSketch(Plane(origin=(0, 0, -5), x_dir=(1, 0, 0), z_dir=(0, 0, -1))):
        with BuildLine():
            ThreePointArc((-13, 11.5), (-19.535534, 11.035534), (-20, 4.5))
            Line((-20, -21.5), (-20, 4.5))
            ThreePointArc((-20, -21.5), (-19.535534, -28.035534), (-13, -28.5))
            Line((-13, -28.5), (13, -28.5))
            ThreePointArc((13, -28.5), (19.535534, -28.035534), (20, -21.5))
            Line((20, 4.5), (20, -21.5))
            ThreePointArc((20, 4.5), (19.535534, 11.035534), (13, 11.5))
            Line((-13, 11.5), (13, 11.5))
        make_face()
        with Locations((-16, 7.5)):
            Circle(SKETCH002_R, mode=Mode.SUBTRACT)
        with Locations((-16, -24.5)):
            Circle(SKETCH002_R, mode=Mode.SUBTRACT)
        with Locations((16, -24.5)):
            Circle(SKETCH002_R, mode=Mode.SUBTRACT)
        with Locations((16, 7.5)):
            Circle(SKETCH002_R, mode=Mode.SUBTRACT)
        with Locations((0, -8)):
            Rectangle(SKETCH002_W, SKETCH002_H, mode=Mode.SUBTRACT)
    extrude(amount=-PAD001_DEPTH)

    # Sketch003 (on Face9 of Pad001) → Pad002 (join)
    with BuildSketch(Plane(origin=(0, 0, -5), x_dir=(1, 0, 0), z_dir=(0, 0, -1))):
        with Locations((0, 11.5)):
            Circle(SKETCH003_R)
        with Locations((0, -28.5)):
            Circle(SKETCH003_R)
        with Locations((-20, -8.5)):
            Circle(SKETCH003_R)
        with Locations((20, -8.5)):
            Circle(SKETCH003_R)
    extrude(amount=-PAD002_DEPTH)

    # Sketch004 (on Face16 of Pad002) → Pocket002 (cut)
    with BuildSketch(Plane(origin=(0, 0, -5), x_dir=(1, 0, 0), z_dir=(0, 0, -1))):
        with Locations((-20, -8.5)):
            Circle(SKETCH004_R)
        with Locations((0, -28.5)):
            Circle(SKETCH004_R)
        with Locations((20, -8.5)):
            Circle(SKETCH004_R)
        with Locations((0, 11.5)):
            Circle(SKETCH004_R)
    extrude(amount=-POCKET002_DEPTH, mode=Mode.SUBTRACT)

    # Chamfer003
    chamfer003_edges = [body.edges().sort_by_distance(p)[0] for p in [
        (20, -1, -5),
        (19.535534, -11.035534, -5),
        (24.242641, 4.257359, -5),
        (9.5, -11.5, -5),
        (24.242641, 12.742641, -5),
        (0, -17.5, -5),
        (20, 18, -5),
        (-9.5, -11.5, -5),
        (19.535534, 28.035534, -5),
        (-19.535534, -11.035534, -5),
        (9.5, 28.5, -5),
        (-20, -1, -5),
        (0, 34.5, -5),
        (-26, 8.5, -5),
        (-9.5, 28.5, -5),
        (-20, 18, -5),
        (-19.535534, 28.035534, -5),
        (14.35, -7.5, -5),
        (5.5, 3, -5),
        (-3.05, -11.5, -5),
        (-17.65, -7.5, -5),
        (-9.5, 3, -5),
        (16.95, 8.5, -5),
        (14.35, 24.5, -5),
        (-23.05, 8.5, -5),
        (-3.05, 28.5, -5),
        (-17.65, 24.5, -5),
        (14.35, -7.5, 0),
        (5.5, 3, 0),
        (-9.5, 3, 0),
        (-17.65, -7.5, 0),
        (-17.65, 24.5, 0),
        (14.35, 24.5, 0),
    ]]
    chamfer(chamfer003_edges, length=CHAMFER003_SIZE)


solid = Compound([cube016.part, adxl345.part, body.part])
